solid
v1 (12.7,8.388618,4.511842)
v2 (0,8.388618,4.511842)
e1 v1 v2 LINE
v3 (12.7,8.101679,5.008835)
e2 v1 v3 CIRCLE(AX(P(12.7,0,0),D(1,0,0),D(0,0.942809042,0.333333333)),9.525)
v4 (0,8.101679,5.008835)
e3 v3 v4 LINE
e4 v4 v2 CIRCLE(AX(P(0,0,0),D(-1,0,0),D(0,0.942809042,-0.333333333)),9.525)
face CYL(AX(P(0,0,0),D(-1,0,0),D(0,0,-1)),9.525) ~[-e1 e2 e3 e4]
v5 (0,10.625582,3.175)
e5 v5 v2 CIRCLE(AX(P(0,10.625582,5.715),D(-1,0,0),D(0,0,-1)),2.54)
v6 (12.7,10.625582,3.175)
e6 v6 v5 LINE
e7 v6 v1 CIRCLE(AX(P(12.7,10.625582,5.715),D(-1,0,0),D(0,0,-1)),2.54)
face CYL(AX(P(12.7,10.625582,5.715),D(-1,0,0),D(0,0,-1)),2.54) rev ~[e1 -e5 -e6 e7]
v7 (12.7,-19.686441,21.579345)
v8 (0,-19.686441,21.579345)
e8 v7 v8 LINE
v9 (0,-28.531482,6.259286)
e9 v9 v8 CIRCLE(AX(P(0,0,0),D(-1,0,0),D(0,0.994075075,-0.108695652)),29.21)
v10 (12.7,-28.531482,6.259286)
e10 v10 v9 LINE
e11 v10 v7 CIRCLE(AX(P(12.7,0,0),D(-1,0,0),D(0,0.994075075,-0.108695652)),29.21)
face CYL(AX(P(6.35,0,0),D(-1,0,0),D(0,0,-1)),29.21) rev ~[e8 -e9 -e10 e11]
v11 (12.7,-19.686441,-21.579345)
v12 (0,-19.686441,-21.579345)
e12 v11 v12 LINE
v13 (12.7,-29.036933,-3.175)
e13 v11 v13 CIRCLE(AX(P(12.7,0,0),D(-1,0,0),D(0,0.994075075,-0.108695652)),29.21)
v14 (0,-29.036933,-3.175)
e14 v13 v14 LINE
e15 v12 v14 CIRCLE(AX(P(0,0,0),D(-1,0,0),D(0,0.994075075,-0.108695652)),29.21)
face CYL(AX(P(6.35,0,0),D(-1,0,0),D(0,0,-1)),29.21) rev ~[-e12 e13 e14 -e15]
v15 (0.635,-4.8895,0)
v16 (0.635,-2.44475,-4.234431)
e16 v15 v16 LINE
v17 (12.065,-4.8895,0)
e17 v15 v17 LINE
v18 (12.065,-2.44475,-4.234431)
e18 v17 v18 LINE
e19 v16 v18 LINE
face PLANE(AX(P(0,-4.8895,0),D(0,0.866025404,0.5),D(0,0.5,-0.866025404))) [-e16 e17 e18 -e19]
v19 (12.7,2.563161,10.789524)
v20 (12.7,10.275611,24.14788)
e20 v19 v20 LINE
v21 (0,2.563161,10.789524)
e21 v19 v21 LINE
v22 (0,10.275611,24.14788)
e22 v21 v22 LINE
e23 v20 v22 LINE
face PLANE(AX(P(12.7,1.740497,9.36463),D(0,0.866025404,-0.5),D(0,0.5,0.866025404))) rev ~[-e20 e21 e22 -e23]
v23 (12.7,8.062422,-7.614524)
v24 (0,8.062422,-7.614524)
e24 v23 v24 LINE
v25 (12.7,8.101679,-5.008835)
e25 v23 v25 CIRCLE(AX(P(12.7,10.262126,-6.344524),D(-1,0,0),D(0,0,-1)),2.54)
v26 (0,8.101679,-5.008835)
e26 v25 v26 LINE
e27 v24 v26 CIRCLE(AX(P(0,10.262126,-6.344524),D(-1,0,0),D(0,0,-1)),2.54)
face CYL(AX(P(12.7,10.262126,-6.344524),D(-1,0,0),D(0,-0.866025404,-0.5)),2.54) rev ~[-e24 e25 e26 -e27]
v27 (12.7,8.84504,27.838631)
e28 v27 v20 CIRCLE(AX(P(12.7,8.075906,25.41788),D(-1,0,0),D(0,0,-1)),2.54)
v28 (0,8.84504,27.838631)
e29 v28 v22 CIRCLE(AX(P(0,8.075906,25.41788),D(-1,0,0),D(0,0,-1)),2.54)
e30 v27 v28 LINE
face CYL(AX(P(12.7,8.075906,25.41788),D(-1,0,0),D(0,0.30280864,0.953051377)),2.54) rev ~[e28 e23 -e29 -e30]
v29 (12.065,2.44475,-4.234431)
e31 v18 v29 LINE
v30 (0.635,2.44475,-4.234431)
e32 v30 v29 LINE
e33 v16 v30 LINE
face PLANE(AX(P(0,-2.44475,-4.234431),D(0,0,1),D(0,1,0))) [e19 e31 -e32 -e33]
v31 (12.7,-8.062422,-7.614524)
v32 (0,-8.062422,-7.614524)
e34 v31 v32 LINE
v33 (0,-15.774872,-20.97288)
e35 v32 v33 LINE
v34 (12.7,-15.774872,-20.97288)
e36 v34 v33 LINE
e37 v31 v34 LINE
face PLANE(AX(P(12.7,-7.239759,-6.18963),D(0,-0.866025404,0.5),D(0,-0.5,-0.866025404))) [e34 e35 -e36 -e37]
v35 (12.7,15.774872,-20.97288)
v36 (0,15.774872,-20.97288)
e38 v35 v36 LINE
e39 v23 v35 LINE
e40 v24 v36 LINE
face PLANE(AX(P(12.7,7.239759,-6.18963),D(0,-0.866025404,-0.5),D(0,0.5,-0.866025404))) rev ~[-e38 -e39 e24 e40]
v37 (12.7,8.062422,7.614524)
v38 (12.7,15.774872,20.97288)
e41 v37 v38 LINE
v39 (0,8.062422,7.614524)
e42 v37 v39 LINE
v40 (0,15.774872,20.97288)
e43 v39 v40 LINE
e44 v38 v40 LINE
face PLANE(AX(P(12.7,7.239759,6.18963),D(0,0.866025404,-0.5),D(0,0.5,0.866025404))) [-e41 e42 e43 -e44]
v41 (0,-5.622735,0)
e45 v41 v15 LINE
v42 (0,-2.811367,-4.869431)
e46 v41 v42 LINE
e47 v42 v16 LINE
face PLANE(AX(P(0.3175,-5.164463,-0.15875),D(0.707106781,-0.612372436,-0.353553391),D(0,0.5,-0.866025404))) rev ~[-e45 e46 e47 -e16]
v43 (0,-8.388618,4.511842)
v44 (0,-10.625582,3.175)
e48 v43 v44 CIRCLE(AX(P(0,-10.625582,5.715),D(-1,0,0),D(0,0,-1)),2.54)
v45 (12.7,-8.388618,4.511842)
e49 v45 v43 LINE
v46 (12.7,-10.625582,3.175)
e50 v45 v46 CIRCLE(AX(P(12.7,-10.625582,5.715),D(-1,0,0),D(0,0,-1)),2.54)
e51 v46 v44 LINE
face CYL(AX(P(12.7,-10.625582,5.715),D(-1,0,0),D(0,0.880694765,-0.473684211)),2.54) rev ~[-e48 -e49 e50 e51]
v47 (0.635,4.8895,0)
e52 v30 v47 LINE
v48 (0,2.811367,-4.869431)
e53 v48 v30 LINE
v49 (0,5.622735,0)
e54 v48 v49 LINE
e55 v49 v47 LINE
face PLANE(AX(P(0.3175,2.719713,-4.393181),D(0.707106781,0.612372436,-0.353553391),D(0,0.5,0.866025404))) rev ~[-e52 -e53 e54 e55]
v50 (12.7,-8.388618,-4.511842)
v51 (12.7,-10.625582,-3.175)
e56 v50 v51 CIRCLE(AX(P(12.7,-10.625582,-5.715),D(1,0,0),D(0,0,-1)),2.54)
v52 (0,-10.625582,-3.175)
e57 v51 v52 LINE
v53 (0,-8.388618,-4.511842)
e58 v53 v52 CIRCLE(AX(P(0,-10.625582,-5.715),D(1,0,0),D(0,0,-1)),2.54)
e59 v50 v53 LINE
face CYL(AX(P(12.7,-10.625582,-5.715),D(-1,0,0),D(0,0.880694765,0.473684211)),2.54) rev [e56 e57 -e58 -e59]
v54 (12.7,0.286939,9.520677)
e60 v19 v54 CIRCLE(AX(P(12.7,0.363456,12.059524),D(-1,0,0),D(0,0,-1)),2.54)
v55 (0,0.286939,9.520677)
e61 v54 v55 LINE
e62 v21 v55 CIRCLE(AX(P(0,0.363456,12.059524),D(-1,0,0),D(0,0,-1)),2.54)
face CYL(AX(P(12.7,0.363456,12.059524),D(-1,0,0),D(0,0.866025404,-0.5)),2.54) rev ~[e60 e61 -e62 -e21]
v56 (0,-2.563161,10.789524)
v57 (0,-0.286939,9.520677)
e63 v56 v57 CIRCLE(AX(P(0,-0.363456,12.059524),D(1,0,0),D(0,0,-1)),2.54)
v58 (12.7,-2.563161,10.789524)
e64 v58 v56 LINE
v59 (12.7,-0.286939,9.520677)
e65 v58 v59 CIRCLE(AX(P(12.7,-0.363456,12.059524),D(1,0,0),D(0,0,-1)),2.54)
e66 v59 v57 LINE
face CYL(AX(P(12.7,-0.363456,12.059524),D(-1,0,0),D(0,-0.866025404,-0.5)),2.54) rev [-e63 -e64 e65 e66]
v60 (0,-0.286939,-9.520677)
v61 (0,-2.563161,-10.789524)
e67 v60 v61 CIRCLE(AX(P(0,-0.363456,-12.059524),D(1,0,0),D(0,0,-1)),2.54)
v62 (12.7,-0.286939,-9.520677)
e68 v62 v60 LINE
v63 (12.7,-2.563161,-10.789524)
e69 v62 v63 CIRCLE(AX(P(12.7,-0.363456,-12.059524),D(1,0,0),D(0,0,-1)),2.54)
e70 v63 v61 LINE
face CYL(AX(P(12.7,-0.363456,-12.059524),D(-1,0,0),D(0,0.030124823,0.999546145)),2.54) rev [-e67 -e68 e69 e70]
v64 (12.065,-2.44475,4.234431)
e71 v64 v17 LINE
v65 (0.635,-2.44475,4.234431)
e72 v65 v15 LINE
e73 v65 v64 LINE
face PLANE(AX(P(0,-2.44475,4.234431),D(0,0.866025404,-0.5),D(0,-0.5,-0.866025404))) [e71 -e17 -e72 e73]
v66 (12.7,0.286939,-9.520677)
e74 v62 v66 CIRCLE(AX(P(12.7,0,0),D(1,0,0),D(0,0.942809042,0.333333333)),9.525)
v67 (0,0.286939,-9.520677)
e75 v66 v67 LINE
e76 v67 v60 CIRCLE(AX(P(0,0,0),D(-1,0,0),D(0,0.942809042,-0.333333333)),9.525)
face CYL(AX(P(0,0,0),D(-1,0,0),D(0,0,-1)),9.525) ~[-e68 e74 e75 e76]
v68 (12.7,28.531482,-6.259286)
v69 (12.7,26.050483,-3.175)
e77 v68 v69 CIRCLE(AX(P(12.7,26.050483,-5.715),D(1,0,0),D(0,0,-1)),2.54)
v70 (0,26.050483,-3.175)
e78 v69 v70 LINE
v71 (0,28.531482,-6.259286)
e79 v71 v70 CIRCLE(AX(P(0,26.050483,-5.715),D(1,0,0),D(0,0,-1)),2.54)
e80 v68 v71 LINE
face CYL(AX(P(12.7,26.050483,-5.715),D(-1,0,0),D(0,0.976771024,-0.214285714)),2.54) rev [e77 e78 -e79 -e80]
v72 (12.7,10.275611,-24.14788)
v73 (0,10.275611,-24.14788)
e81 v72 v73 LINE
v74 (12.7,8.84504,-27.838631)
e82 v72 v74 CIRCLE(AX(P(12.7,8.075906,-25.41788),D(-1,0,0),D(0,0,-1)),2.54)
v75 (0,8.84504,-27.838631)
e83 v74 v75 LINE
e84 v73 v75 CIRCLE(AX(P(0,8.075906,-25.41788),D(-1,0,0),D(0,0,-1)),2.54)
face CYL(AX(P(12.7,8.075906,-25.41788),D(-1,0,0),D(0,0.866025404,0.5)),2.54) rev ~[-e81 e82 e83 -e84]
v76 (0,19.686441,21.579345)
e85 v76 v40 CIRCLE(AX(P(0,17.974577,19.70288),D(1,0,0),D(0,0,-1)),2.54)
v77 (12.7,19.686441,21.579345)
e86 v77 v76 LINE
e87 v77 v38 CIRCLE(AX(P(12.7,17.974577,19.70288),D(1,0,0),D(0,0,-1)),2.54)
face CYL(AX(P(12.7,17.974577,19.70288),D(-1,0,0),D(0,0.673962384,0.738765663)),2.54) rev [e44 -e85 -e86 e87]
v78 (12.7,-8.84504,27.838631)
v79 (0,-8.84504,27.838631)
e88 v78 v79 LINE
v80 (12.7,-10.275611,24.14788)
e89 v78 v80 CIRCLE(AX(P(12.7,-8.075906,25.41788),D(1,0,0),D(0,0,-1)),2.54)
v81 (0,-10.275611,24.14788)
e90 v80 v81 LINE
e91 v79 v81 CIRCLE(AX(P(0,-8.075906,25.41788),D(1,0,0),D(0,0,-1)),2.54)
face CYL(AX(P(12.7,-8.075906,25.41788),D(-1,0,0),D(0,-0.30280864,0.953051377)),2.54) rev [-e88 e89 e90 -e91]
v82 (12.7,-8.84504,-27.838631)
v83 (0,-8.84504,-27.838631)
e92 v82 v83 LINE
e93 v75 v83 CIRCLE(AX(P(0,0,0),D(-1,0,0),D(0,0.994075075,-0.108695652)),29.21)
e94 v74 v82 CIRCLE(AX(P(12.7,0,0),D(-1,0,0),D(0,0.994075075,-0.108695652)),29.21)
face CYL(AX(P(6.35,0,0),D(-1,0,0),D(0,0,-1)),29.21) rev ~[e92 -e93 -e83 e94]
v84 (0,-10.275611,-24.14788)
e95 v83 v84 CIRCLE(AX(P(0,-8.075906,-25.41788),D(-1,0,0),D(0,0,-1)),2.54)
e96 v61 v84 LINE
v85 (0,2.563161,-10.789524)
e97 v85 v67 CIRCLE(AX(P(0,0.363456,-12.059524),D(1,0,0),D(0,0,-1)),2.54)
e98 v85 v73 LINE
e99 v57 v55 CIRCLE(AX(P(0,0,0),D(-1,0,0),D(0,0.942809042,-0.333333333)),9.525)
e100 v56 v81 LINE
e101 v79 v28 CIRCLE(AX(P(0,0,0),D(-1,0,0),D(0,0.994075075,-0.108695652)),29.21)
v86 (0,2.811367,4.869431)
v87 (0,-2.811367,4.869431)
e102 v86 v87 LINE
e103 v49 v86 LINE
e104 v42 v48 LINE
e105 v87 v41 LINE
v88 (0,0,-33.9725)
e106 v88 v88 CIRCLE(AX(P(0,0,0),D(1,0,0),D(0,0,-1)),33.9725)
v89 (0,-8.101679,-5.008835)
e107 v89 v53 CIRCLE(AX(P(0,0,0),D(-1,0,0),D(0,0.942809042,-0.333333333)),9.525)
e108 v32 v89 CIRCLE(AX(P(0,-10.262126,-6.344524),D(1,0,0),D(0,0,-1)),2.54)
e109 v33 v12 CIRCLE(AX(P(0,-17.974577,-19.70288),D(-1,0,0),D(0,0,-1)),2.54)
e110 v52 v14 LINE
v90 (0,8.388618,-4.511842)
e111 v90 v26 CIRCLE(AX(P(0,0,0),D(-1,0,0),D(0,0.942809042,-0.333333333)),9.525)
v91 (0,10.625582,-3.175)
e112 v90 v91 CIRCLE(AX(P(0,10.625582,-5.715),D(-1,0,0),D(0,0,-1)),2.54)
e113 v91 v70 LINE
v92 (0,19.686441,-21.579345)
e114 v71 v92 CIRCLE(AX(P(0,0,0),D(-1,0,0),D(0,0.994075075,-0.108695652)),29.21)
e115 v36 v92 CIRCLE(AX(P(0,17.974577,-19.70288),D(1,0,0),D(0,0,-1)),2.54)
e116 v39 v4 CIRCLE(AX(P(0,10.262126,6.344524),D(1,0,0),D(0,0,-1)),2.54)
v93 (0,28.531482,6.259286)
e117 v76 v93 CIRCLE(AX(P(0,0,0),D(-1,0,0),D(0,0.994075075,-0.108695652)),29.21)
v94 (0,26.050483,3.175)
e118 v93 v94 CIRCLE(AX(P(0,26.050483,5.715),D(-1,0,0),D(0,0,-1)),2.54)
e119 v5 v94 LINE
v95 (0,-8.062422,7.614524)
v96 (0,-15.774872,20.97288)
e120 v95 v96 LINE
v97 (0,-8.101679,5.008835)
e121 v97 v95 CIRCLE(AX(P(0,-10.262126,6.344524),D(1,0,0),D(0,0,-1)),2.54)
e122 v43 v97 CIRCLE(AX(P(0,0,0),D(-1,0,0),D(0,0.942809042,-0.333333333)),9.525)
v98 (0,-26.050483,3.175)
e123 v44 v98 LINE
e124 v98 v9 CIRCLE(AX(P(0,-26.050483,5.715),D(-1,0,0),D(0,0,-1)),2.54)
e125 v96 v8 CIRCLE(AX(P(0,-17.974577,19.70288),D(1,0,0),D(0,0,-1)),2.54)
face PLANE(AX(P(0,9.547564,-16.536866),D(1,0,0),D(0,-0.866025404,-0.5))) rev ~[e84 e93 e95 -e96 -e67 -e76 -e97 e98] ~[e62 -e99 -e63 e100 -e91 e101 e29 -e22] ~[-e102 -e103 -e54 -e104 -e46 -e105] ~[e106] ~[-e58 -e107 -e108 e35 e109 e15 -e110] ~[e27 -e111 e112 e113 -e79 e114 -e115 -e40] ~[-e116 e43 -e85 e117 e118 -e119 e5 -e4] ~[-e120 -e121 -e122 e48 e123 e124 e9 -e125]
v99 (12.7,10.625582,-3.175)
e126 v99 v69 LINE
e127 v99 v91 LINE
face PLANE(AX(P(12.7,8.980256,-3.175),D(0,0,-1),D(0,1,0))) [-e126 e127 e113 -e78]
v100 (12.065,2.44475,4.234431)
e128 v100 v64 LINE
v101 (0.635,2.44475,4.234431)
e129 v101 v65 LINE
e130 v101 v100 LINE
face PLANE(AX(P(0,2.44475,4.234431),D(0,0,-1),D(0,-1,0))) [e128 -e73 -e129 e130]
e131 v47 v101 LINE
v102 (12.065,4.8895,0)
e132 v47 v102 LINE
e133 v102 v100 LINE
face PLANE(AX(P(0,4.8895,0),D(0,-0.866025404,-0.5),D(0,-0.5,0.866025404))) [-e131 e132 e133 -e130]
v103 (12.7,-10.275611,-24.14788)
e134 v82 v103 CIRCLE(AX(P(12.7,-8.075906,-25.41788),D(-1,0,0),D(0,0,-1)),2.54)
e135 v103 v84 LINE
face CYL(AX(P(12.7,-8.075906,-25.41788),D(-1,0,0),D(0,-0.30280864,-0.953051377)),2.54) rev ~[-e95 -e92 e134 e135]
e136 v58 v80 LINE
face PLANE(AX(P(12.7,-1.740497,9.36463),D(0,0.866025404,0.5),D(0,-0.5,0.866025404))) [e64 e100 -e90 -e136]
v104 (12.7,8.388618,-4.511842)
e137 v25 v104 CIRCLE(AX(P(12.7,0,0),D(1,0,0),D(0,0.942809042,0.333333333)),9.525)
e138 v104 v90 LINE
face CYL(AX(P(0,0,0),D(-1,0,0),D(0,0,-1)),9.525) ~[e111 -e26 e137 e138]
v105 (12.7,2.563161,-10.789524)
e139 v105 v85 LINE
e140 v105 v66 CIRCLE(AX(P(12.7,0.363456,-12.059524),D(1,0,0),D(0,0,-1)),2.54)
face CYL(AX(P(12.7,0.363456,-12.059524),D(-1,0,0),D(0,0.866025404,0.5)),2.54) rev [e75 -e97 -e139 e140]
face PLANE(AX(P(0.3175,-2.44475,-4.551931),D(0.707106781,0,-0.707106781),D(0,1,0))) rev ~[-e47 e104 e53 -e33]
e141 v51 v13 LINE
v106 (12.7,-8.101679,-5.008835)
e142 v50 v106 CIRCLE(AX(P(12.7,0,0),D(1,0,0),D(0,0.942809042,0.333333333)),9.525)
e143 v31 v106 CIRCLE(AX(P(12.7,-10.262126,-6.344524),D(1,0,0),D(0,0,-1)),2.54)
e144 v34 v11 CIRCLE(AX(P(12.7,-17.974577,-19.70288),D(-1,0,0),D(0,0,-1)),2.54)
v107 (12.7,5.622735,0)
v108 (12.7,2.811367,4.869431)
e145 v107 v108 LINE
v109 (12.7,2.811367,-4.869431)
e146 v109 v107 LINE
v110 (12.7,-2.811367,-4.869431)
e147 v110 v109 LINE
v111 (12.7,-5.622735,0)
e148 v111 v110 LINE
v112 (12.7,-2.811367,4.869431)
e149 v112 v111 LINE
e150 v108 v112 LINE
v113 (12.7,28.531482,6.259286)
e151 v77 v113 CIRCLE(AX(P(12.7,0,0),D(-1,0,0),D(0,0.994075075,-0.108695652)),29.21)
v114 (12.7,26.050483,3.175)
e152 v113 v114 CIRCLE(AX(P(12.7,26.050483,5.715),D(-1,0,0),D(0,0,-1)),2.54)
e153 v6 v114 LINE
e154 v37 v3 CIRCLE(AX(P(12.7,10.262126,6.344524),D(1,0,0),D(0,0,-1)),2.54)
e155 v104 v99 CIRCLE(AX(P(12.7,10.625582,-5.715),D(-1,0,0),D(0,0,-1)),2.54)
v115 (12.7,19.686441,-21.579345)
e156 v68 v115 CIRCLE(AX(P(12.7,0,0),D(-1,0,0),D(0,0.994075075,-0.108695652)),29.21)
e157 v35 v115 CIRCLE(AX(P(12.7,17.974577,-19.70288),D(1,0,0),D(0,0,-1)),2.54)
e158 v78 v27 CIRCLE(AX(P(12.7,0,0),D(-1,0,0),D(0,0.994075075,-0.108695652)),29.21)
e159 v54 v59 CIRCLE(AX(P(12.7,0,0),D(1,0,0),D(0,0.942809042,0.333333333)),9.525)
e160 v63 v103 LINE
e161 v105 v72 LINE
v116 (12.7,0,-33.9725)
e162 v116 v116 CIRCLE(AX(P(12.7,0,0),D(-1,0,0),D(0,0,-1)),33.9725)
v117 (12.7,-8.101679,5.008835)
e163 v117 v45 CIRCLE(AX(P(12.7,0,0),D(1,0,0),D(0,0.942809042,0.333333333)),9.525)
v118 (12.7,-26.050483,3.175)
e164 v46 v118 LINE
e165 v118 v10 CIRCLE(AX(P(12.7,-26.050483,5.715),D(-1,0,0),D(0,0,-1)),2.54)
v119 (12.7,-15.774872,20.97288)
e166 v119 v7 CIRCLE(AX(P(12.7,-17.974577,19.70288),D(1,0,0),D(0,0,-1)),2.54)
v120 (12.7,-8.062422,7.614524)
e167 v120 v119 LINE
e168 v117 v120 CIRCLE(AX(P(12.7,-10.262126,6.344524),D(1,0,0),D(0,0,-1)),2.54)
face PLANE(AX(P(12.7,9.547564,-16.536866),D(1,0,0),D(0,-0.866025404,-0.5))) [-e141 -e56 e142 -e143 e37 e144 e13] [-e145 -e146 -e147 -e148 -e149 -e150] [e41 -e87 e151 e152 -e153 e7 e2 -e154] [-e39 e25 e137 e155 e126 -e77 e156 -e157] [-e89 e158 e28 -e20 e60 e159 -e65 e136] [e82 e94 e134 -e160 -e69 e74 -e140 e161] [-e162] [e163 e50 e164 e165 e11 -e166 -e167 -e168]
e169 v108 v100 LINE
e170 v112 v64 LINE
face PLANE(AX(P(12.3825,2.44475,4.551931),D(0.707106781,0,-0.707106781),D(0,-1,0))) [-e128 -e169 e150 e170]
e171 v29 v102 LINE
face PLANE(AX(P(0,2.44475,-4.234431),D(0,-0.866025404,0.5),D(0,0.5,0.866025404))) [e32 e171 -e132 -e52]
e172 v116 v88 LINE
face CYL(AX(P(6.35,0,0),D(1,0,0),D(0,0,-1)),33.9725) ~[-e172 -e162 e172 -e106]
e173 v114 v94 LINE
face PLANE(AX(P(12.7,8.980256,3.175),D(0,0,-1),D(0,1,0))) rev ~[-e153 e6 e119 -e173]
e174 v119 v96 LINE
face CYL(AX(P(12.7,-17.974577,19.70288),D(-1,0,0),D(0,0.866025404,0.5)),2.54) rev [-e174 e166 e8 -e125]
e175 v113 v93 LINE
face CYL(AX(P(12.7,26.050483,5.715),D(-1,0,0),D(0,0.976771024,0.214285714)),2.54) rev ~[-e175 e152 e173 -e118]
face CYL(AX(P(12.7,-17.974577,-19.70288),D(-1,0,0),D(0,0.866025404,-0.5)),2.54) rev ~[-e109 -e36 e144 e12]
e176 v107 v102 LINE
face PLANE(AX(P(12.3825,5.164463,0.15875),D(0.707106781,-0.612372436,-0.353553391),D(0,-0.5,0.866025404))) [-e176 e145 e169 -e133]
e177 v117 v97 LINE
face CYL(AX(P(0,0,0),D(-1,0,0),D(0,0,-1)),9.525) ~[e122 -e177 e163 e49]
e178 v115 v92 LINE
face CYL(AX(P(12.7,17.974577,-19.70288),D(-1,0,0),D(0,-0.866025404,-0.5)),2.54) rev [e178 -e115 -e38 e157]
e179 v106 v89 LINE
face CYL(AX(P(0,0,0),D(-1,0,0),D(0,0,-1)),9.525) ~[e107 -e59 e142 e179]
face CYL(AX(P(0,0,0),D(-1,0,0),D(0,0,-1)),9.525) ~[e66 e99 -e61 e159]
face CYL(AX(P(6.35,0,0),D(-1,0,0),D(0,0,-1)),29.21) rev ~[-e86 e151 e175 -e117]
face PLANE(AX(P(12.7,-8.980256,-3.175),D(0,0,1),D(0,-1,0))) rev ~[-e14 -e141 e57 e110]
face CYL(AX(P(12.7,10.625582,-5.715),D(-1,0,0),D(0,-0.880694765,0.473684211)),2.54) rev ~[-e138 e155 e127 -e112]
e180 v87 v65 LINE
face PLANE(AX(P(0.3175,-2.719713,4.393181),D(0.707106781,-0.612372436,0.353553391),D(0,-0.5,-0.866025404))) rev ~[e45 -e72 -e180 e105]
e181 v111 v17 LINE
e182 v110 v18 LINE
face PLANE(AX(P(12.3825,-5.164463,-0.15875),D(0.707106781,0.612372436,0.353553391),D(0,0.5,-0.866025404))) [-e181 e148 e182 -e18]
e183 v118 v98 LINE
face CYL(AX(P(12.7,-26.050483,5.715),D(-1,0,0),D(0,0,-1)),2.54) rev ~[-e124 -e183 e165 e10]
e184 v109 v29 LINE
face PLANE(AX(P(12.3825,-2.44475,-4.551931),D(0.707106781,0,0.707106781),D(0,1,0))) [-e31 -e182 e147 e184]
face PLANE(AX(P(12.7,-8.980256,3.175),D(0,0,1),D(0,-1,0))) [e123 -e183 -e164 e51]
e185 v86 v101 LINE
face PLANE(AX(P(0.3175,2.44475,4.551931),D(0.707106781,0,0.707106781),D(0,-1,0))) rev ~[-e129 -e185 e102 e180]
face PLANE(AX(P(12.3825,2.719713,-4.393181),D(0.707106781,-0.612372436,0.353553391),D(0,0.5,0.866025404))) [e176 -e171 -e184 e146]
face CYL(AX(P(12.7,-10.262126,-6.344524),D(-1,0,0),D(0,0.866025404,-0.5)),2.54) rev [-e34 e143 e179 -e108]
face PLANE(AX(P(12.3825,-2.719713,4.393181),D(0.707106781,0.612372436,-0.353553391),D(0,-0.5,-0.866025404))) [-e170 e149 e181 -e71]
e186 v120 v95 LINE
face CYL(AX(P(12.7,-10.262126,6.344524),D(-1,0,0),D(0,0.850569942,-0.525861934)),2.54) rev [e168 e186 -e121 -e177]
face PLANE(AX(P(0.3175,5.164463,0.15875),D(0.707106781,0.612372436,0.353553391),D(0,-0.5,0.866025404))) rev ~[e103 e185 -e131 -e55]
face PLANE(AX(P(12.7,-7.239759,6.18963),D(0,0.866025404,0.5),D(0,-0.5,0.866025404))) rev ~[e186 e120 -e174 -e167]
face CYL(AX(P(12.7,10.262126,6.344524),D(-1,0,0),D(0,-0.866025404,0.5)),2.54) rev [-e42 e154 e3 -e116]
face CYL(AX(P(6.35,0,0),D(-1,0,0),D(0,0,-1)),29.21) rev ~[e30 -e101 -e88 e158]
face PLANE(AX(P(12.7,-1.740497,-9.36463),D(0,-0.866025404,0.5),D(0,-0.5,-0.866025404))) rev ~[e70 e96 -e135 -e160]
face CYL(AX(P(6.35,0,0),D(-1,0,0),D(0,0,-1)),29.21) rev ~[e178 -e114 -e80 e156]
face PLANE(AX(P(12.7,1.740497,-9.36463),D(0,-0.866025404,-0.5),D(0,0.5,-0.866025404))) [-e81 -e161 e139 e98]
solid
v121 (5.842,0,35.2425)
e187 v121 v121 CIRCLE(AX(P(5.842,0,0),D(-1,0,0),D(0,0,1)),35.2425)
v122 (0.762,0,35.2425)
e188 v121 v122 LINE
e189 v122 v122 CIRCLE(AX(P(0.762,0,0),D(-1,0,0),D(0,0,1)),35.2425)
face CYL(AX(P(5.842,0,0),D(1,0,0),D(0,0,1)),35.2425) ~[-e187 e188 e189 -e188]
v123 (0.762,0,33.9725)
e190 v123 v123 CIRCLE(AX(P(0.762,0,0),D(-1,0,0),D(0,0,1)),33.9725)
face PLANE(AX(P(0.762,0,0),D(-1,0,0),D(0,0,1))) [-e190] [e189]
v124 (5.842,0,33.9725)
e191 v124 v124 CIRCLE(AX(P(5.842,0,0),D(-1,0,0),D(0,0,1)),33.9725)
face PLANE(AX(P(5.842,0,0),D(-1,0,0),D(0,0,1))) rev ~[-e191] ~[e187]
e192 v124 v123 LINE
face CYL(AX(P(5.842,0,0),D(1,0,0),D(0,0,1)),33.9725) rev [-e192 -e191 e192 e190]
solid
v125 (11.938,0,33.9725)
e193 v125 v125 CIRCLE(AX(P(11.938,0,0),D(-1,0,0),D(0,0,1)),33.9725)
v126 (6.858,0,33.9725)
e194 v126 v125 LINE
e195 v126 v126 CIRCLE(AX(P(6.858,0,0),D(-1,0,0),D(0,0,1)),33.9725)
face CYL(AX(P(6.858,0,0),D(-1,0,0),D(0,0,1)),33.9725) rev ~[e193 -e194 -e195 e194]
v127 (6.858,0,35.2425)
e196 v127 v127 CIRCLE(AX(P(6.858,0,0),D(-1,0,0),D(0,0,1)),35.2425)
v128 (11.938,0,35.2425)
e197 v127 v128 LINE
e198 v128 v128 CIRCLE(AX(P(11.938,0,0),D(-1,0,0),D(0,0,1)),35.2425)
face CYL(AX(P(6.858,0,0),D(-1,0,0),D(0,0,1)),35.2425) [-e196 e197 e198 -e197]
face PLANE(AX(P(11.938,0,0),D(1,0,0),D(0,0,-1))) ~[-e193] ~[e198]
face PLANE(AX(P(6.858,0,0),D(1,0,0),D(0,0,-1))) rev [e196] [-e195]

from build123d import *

# Parameters (mm, degrees)
AXLE_PROFILE_R              = 9.525
WHEEL_HUB_DEPTH             = 12.7
WHEEL_RIM_REACH             = 16.892
SKETCH3_R                   = 33.9725
SKETCH3_R_2                 = 29.21
WHEEL_RIM_DIRECTION_2_REACH = 16.892
SKETCH4_W                   = 6.35
SKETCH4_H                   = 20.229743879
BOSS_EXTRUDE1_DEPTH         = 12.7
SPOKES_COUNT                = 6
SPOKE_FILLETS_R             = 2.54
SHAFT_CHAMFERS_SIZE         = 0.635
EXTRUDE_THIN1_START         = 0.508
SKETCH6_R                   = 35.2425
SKETCH6_R_2                 = 33.9725
EXTRUDE_THIN1_DEPTH         = 5.08


with BuildPart() as part:
    # Axle Profile → Wheel Hub (new body)
    with BuildSketch(Plane(origin=(0, 0, 0), x_dir=(0, 0, -1), z_dir=(1, 0, 0))):
        Circle(AXLE_PROFILE_R)
        Polygon((0, -4.8895), (4.234431212, -2.44475), (4.234431212, 2.44475), (0, 4.8895), (-4.234431212, 2.44475), (-4.234431212, -2.44475), align=None, mode=Mode.SUBTRACT)
    extrude(amount=WHEEL_HUB_DEPTH)

    # Wheel Rim: up to this face of the body (flat: up to its plane)
    wheel_rim_end = Plane(part.part.faces().sort_by_distance((0, 0, 9.255592316))[0])
    # Sketch3 → Wheel Rim (add, up to the picked face)
    with BuildSketch(Plane.ZY.offset(-6.35), mode=Mode.PRIVATE) as wheel_rim_sk1:
        with Locations(Location((0, 0, 0), (0, 0, 180))):
            Circle(SKETCH3_R)
        with Locations(Location((0, 0, 0), (0, 0, 180))):
            Circle(SKETCH3_R_2, mode=Mode.SUBTRACT)
    wheel_rim_tool1 = split(extrude(wheel_rim_sk1.sketch, amount=WHEEL_RIM_REACH, mode=Mode.PRIVATE), bisect_by=wheel_rim_end, keep=Keep.BOTH, mode=Mode.PRIVATE)
    add(wheel_rim_tool1.solids().sort_by(Axis((6.35, 0, 33.011613), (-1, 0, 0)))[0])

    # Wheel Rim direction 2: up to this face of the body (flat: up to its plane)
    wheel_rim_direction_2_end = Plane(part.part.faces().sort_by_distance((12.7, 0, 9.255592316))[0])
    # Sketch3 → Wheel Rim direction 2 (add, up to the picked face)
    with BuildSketch(Plane.ZY.offset(-6.35), mode=Mode.PRIVATE) as wheel_rim_direction_2_sk1:
        with Locations(Location((0, 0, 0), (0, 0, 180))):
            Circle(SKETCH3_R)
        with Locations(Location((0, 0, 0), (0, 0, 180))):
            Circle(SKETCH3_R_2, mode=Mode.SUBTRACT)
    wheel_rim_direction_2_tool1 = split(extrude(wheel_rim_direction_2_sk1.sketch, amount=-WHEEL_RIM_DIRECTION_2_REACH, mode=Mode.PRIVATE), bisect_by=wheel_rim_direction_2_end, keep=Keep.BOTH, mode=Mode.PRIVATE)
    add(wheel_rim_direction_2_tool1.solids().sort_by(Axis((6.35, 0, 33.011613), (1, 0, 0)))[0])

    # Sketch4 → Boss-Extrude1 (add)
    with BuildSketch(Plane(origin=(12.7, 0, 0), x_dir=(0, 0, -1), z_dir=(1, 0, 0))):
        with Locations((0, 19.095128061)):
            Rectangle(SKETCH4_W, SKETCH4_H)
    boss_extrude1 = extrude(amount=-BOSS_EXTRUDE1_DEPTH)

    # Spokes: Boss-Extrude1 ×6 about axis
    spokes_axis = Axis((0, 0, 0), (1, 0, 0))
    for i in range(1, SPOKES_COUNT):
        add(boss_extrude1.rotate(spokes_axis, i * 360 / SPOKES_COUNT))

    # Spoke Fillets
    spoke_fillets_edges = [part.edges().sort_by_distance(p)[0] for p in [
        (6.35, 7.239758718, -6.189629933),
        (6.35, 1.740497404, -9.364629933),
        (6.35, -1.740497404, -9.364629933),
        (6.35, -7.239758718, -6.189629933),
        (6.35, -8.980256121, -3.175),
        (6.35, -8.980256121, 3.175),
        (6.35, -7.239758718, 6.189629933),
        (6.35, -1.740497404, 9.364629933),
        (6.35, 1.740497404, 9.364629933),
        (6.35, 7.239758718, 6.189629933),
        (6.35, 8.980256121, 3.175),
        (6.35, 8.980256121, -3.175),
        (9.525, 29.036932948, -3.175),
        (9.525, 29.036932948, 3.175),
        (3.175, 17.268097131, 23.559221581),
        (3.175, 11.768835817, 26.734221581),
        (9.525, -11.768835817, 26.734221581),
        (9.525, -17.268097131, 23.559221581),
        (9.525, -29.036932948, 3.175),
        (3.175, -17.268097131, -23.559221581),
        (3.175, -11.768835817, -26.734221581),
        (9.525, 11.768835817, -26.734221581),
        (3.175, 17.268097131, -23.559221581),
    ]]
    fillet(spoke_fillets_edges, radius=SPOKE_FILLETS_R)

    # Shaft Chamfers
    shaft_chamfers_edges = [part.edges().sort_by_distance(p)[0] for p in [
        (0, 0, -4.234431212),
        (0, 3.667125, -2.117215606),
        (0, 3.667125, 2.117215606),
        (0, 0, 4.234431212),
        (12.7, -3.667125, 2.117215606),
        (12.7, -3.667125, -2.117215606),
        (12.7, 0, -4.234431212),
        (12.7, 3.667125, -2.117215606),
        (12.7, 3.667125, 2.117215606),
        (12.7, 0, 4.234431212),
        (0, -3.667125, 2.117215606),
        (0, -3.667125, -2.117215606),
    ]]
    chamfer(shaft_chamfers_edges, length=SHAFT_CHAMFERS_SIZE)


with BuildPart() as body_2:
    # Sketch6 → Extrude-Thin1 (new body)
    with BuildSketch(Plane.ZY.offset(-6.35).offset(EXTRUDE_THIN1_START)):
        Circle(SKETCH6_R)
        Circle(SKETCH6_R_2, mode=Mode.SUBTRACT)
    extrude(amount=EXTRUDE_THIN1_DEPTH)


with BuildPart() as body_3:
    # Mirror1: mirrored copy
    add(body_2.part.mirror(Plane.ZY.offset(-6.35)))


solid = Compound([part.part, body_2.part, body_3.part])
